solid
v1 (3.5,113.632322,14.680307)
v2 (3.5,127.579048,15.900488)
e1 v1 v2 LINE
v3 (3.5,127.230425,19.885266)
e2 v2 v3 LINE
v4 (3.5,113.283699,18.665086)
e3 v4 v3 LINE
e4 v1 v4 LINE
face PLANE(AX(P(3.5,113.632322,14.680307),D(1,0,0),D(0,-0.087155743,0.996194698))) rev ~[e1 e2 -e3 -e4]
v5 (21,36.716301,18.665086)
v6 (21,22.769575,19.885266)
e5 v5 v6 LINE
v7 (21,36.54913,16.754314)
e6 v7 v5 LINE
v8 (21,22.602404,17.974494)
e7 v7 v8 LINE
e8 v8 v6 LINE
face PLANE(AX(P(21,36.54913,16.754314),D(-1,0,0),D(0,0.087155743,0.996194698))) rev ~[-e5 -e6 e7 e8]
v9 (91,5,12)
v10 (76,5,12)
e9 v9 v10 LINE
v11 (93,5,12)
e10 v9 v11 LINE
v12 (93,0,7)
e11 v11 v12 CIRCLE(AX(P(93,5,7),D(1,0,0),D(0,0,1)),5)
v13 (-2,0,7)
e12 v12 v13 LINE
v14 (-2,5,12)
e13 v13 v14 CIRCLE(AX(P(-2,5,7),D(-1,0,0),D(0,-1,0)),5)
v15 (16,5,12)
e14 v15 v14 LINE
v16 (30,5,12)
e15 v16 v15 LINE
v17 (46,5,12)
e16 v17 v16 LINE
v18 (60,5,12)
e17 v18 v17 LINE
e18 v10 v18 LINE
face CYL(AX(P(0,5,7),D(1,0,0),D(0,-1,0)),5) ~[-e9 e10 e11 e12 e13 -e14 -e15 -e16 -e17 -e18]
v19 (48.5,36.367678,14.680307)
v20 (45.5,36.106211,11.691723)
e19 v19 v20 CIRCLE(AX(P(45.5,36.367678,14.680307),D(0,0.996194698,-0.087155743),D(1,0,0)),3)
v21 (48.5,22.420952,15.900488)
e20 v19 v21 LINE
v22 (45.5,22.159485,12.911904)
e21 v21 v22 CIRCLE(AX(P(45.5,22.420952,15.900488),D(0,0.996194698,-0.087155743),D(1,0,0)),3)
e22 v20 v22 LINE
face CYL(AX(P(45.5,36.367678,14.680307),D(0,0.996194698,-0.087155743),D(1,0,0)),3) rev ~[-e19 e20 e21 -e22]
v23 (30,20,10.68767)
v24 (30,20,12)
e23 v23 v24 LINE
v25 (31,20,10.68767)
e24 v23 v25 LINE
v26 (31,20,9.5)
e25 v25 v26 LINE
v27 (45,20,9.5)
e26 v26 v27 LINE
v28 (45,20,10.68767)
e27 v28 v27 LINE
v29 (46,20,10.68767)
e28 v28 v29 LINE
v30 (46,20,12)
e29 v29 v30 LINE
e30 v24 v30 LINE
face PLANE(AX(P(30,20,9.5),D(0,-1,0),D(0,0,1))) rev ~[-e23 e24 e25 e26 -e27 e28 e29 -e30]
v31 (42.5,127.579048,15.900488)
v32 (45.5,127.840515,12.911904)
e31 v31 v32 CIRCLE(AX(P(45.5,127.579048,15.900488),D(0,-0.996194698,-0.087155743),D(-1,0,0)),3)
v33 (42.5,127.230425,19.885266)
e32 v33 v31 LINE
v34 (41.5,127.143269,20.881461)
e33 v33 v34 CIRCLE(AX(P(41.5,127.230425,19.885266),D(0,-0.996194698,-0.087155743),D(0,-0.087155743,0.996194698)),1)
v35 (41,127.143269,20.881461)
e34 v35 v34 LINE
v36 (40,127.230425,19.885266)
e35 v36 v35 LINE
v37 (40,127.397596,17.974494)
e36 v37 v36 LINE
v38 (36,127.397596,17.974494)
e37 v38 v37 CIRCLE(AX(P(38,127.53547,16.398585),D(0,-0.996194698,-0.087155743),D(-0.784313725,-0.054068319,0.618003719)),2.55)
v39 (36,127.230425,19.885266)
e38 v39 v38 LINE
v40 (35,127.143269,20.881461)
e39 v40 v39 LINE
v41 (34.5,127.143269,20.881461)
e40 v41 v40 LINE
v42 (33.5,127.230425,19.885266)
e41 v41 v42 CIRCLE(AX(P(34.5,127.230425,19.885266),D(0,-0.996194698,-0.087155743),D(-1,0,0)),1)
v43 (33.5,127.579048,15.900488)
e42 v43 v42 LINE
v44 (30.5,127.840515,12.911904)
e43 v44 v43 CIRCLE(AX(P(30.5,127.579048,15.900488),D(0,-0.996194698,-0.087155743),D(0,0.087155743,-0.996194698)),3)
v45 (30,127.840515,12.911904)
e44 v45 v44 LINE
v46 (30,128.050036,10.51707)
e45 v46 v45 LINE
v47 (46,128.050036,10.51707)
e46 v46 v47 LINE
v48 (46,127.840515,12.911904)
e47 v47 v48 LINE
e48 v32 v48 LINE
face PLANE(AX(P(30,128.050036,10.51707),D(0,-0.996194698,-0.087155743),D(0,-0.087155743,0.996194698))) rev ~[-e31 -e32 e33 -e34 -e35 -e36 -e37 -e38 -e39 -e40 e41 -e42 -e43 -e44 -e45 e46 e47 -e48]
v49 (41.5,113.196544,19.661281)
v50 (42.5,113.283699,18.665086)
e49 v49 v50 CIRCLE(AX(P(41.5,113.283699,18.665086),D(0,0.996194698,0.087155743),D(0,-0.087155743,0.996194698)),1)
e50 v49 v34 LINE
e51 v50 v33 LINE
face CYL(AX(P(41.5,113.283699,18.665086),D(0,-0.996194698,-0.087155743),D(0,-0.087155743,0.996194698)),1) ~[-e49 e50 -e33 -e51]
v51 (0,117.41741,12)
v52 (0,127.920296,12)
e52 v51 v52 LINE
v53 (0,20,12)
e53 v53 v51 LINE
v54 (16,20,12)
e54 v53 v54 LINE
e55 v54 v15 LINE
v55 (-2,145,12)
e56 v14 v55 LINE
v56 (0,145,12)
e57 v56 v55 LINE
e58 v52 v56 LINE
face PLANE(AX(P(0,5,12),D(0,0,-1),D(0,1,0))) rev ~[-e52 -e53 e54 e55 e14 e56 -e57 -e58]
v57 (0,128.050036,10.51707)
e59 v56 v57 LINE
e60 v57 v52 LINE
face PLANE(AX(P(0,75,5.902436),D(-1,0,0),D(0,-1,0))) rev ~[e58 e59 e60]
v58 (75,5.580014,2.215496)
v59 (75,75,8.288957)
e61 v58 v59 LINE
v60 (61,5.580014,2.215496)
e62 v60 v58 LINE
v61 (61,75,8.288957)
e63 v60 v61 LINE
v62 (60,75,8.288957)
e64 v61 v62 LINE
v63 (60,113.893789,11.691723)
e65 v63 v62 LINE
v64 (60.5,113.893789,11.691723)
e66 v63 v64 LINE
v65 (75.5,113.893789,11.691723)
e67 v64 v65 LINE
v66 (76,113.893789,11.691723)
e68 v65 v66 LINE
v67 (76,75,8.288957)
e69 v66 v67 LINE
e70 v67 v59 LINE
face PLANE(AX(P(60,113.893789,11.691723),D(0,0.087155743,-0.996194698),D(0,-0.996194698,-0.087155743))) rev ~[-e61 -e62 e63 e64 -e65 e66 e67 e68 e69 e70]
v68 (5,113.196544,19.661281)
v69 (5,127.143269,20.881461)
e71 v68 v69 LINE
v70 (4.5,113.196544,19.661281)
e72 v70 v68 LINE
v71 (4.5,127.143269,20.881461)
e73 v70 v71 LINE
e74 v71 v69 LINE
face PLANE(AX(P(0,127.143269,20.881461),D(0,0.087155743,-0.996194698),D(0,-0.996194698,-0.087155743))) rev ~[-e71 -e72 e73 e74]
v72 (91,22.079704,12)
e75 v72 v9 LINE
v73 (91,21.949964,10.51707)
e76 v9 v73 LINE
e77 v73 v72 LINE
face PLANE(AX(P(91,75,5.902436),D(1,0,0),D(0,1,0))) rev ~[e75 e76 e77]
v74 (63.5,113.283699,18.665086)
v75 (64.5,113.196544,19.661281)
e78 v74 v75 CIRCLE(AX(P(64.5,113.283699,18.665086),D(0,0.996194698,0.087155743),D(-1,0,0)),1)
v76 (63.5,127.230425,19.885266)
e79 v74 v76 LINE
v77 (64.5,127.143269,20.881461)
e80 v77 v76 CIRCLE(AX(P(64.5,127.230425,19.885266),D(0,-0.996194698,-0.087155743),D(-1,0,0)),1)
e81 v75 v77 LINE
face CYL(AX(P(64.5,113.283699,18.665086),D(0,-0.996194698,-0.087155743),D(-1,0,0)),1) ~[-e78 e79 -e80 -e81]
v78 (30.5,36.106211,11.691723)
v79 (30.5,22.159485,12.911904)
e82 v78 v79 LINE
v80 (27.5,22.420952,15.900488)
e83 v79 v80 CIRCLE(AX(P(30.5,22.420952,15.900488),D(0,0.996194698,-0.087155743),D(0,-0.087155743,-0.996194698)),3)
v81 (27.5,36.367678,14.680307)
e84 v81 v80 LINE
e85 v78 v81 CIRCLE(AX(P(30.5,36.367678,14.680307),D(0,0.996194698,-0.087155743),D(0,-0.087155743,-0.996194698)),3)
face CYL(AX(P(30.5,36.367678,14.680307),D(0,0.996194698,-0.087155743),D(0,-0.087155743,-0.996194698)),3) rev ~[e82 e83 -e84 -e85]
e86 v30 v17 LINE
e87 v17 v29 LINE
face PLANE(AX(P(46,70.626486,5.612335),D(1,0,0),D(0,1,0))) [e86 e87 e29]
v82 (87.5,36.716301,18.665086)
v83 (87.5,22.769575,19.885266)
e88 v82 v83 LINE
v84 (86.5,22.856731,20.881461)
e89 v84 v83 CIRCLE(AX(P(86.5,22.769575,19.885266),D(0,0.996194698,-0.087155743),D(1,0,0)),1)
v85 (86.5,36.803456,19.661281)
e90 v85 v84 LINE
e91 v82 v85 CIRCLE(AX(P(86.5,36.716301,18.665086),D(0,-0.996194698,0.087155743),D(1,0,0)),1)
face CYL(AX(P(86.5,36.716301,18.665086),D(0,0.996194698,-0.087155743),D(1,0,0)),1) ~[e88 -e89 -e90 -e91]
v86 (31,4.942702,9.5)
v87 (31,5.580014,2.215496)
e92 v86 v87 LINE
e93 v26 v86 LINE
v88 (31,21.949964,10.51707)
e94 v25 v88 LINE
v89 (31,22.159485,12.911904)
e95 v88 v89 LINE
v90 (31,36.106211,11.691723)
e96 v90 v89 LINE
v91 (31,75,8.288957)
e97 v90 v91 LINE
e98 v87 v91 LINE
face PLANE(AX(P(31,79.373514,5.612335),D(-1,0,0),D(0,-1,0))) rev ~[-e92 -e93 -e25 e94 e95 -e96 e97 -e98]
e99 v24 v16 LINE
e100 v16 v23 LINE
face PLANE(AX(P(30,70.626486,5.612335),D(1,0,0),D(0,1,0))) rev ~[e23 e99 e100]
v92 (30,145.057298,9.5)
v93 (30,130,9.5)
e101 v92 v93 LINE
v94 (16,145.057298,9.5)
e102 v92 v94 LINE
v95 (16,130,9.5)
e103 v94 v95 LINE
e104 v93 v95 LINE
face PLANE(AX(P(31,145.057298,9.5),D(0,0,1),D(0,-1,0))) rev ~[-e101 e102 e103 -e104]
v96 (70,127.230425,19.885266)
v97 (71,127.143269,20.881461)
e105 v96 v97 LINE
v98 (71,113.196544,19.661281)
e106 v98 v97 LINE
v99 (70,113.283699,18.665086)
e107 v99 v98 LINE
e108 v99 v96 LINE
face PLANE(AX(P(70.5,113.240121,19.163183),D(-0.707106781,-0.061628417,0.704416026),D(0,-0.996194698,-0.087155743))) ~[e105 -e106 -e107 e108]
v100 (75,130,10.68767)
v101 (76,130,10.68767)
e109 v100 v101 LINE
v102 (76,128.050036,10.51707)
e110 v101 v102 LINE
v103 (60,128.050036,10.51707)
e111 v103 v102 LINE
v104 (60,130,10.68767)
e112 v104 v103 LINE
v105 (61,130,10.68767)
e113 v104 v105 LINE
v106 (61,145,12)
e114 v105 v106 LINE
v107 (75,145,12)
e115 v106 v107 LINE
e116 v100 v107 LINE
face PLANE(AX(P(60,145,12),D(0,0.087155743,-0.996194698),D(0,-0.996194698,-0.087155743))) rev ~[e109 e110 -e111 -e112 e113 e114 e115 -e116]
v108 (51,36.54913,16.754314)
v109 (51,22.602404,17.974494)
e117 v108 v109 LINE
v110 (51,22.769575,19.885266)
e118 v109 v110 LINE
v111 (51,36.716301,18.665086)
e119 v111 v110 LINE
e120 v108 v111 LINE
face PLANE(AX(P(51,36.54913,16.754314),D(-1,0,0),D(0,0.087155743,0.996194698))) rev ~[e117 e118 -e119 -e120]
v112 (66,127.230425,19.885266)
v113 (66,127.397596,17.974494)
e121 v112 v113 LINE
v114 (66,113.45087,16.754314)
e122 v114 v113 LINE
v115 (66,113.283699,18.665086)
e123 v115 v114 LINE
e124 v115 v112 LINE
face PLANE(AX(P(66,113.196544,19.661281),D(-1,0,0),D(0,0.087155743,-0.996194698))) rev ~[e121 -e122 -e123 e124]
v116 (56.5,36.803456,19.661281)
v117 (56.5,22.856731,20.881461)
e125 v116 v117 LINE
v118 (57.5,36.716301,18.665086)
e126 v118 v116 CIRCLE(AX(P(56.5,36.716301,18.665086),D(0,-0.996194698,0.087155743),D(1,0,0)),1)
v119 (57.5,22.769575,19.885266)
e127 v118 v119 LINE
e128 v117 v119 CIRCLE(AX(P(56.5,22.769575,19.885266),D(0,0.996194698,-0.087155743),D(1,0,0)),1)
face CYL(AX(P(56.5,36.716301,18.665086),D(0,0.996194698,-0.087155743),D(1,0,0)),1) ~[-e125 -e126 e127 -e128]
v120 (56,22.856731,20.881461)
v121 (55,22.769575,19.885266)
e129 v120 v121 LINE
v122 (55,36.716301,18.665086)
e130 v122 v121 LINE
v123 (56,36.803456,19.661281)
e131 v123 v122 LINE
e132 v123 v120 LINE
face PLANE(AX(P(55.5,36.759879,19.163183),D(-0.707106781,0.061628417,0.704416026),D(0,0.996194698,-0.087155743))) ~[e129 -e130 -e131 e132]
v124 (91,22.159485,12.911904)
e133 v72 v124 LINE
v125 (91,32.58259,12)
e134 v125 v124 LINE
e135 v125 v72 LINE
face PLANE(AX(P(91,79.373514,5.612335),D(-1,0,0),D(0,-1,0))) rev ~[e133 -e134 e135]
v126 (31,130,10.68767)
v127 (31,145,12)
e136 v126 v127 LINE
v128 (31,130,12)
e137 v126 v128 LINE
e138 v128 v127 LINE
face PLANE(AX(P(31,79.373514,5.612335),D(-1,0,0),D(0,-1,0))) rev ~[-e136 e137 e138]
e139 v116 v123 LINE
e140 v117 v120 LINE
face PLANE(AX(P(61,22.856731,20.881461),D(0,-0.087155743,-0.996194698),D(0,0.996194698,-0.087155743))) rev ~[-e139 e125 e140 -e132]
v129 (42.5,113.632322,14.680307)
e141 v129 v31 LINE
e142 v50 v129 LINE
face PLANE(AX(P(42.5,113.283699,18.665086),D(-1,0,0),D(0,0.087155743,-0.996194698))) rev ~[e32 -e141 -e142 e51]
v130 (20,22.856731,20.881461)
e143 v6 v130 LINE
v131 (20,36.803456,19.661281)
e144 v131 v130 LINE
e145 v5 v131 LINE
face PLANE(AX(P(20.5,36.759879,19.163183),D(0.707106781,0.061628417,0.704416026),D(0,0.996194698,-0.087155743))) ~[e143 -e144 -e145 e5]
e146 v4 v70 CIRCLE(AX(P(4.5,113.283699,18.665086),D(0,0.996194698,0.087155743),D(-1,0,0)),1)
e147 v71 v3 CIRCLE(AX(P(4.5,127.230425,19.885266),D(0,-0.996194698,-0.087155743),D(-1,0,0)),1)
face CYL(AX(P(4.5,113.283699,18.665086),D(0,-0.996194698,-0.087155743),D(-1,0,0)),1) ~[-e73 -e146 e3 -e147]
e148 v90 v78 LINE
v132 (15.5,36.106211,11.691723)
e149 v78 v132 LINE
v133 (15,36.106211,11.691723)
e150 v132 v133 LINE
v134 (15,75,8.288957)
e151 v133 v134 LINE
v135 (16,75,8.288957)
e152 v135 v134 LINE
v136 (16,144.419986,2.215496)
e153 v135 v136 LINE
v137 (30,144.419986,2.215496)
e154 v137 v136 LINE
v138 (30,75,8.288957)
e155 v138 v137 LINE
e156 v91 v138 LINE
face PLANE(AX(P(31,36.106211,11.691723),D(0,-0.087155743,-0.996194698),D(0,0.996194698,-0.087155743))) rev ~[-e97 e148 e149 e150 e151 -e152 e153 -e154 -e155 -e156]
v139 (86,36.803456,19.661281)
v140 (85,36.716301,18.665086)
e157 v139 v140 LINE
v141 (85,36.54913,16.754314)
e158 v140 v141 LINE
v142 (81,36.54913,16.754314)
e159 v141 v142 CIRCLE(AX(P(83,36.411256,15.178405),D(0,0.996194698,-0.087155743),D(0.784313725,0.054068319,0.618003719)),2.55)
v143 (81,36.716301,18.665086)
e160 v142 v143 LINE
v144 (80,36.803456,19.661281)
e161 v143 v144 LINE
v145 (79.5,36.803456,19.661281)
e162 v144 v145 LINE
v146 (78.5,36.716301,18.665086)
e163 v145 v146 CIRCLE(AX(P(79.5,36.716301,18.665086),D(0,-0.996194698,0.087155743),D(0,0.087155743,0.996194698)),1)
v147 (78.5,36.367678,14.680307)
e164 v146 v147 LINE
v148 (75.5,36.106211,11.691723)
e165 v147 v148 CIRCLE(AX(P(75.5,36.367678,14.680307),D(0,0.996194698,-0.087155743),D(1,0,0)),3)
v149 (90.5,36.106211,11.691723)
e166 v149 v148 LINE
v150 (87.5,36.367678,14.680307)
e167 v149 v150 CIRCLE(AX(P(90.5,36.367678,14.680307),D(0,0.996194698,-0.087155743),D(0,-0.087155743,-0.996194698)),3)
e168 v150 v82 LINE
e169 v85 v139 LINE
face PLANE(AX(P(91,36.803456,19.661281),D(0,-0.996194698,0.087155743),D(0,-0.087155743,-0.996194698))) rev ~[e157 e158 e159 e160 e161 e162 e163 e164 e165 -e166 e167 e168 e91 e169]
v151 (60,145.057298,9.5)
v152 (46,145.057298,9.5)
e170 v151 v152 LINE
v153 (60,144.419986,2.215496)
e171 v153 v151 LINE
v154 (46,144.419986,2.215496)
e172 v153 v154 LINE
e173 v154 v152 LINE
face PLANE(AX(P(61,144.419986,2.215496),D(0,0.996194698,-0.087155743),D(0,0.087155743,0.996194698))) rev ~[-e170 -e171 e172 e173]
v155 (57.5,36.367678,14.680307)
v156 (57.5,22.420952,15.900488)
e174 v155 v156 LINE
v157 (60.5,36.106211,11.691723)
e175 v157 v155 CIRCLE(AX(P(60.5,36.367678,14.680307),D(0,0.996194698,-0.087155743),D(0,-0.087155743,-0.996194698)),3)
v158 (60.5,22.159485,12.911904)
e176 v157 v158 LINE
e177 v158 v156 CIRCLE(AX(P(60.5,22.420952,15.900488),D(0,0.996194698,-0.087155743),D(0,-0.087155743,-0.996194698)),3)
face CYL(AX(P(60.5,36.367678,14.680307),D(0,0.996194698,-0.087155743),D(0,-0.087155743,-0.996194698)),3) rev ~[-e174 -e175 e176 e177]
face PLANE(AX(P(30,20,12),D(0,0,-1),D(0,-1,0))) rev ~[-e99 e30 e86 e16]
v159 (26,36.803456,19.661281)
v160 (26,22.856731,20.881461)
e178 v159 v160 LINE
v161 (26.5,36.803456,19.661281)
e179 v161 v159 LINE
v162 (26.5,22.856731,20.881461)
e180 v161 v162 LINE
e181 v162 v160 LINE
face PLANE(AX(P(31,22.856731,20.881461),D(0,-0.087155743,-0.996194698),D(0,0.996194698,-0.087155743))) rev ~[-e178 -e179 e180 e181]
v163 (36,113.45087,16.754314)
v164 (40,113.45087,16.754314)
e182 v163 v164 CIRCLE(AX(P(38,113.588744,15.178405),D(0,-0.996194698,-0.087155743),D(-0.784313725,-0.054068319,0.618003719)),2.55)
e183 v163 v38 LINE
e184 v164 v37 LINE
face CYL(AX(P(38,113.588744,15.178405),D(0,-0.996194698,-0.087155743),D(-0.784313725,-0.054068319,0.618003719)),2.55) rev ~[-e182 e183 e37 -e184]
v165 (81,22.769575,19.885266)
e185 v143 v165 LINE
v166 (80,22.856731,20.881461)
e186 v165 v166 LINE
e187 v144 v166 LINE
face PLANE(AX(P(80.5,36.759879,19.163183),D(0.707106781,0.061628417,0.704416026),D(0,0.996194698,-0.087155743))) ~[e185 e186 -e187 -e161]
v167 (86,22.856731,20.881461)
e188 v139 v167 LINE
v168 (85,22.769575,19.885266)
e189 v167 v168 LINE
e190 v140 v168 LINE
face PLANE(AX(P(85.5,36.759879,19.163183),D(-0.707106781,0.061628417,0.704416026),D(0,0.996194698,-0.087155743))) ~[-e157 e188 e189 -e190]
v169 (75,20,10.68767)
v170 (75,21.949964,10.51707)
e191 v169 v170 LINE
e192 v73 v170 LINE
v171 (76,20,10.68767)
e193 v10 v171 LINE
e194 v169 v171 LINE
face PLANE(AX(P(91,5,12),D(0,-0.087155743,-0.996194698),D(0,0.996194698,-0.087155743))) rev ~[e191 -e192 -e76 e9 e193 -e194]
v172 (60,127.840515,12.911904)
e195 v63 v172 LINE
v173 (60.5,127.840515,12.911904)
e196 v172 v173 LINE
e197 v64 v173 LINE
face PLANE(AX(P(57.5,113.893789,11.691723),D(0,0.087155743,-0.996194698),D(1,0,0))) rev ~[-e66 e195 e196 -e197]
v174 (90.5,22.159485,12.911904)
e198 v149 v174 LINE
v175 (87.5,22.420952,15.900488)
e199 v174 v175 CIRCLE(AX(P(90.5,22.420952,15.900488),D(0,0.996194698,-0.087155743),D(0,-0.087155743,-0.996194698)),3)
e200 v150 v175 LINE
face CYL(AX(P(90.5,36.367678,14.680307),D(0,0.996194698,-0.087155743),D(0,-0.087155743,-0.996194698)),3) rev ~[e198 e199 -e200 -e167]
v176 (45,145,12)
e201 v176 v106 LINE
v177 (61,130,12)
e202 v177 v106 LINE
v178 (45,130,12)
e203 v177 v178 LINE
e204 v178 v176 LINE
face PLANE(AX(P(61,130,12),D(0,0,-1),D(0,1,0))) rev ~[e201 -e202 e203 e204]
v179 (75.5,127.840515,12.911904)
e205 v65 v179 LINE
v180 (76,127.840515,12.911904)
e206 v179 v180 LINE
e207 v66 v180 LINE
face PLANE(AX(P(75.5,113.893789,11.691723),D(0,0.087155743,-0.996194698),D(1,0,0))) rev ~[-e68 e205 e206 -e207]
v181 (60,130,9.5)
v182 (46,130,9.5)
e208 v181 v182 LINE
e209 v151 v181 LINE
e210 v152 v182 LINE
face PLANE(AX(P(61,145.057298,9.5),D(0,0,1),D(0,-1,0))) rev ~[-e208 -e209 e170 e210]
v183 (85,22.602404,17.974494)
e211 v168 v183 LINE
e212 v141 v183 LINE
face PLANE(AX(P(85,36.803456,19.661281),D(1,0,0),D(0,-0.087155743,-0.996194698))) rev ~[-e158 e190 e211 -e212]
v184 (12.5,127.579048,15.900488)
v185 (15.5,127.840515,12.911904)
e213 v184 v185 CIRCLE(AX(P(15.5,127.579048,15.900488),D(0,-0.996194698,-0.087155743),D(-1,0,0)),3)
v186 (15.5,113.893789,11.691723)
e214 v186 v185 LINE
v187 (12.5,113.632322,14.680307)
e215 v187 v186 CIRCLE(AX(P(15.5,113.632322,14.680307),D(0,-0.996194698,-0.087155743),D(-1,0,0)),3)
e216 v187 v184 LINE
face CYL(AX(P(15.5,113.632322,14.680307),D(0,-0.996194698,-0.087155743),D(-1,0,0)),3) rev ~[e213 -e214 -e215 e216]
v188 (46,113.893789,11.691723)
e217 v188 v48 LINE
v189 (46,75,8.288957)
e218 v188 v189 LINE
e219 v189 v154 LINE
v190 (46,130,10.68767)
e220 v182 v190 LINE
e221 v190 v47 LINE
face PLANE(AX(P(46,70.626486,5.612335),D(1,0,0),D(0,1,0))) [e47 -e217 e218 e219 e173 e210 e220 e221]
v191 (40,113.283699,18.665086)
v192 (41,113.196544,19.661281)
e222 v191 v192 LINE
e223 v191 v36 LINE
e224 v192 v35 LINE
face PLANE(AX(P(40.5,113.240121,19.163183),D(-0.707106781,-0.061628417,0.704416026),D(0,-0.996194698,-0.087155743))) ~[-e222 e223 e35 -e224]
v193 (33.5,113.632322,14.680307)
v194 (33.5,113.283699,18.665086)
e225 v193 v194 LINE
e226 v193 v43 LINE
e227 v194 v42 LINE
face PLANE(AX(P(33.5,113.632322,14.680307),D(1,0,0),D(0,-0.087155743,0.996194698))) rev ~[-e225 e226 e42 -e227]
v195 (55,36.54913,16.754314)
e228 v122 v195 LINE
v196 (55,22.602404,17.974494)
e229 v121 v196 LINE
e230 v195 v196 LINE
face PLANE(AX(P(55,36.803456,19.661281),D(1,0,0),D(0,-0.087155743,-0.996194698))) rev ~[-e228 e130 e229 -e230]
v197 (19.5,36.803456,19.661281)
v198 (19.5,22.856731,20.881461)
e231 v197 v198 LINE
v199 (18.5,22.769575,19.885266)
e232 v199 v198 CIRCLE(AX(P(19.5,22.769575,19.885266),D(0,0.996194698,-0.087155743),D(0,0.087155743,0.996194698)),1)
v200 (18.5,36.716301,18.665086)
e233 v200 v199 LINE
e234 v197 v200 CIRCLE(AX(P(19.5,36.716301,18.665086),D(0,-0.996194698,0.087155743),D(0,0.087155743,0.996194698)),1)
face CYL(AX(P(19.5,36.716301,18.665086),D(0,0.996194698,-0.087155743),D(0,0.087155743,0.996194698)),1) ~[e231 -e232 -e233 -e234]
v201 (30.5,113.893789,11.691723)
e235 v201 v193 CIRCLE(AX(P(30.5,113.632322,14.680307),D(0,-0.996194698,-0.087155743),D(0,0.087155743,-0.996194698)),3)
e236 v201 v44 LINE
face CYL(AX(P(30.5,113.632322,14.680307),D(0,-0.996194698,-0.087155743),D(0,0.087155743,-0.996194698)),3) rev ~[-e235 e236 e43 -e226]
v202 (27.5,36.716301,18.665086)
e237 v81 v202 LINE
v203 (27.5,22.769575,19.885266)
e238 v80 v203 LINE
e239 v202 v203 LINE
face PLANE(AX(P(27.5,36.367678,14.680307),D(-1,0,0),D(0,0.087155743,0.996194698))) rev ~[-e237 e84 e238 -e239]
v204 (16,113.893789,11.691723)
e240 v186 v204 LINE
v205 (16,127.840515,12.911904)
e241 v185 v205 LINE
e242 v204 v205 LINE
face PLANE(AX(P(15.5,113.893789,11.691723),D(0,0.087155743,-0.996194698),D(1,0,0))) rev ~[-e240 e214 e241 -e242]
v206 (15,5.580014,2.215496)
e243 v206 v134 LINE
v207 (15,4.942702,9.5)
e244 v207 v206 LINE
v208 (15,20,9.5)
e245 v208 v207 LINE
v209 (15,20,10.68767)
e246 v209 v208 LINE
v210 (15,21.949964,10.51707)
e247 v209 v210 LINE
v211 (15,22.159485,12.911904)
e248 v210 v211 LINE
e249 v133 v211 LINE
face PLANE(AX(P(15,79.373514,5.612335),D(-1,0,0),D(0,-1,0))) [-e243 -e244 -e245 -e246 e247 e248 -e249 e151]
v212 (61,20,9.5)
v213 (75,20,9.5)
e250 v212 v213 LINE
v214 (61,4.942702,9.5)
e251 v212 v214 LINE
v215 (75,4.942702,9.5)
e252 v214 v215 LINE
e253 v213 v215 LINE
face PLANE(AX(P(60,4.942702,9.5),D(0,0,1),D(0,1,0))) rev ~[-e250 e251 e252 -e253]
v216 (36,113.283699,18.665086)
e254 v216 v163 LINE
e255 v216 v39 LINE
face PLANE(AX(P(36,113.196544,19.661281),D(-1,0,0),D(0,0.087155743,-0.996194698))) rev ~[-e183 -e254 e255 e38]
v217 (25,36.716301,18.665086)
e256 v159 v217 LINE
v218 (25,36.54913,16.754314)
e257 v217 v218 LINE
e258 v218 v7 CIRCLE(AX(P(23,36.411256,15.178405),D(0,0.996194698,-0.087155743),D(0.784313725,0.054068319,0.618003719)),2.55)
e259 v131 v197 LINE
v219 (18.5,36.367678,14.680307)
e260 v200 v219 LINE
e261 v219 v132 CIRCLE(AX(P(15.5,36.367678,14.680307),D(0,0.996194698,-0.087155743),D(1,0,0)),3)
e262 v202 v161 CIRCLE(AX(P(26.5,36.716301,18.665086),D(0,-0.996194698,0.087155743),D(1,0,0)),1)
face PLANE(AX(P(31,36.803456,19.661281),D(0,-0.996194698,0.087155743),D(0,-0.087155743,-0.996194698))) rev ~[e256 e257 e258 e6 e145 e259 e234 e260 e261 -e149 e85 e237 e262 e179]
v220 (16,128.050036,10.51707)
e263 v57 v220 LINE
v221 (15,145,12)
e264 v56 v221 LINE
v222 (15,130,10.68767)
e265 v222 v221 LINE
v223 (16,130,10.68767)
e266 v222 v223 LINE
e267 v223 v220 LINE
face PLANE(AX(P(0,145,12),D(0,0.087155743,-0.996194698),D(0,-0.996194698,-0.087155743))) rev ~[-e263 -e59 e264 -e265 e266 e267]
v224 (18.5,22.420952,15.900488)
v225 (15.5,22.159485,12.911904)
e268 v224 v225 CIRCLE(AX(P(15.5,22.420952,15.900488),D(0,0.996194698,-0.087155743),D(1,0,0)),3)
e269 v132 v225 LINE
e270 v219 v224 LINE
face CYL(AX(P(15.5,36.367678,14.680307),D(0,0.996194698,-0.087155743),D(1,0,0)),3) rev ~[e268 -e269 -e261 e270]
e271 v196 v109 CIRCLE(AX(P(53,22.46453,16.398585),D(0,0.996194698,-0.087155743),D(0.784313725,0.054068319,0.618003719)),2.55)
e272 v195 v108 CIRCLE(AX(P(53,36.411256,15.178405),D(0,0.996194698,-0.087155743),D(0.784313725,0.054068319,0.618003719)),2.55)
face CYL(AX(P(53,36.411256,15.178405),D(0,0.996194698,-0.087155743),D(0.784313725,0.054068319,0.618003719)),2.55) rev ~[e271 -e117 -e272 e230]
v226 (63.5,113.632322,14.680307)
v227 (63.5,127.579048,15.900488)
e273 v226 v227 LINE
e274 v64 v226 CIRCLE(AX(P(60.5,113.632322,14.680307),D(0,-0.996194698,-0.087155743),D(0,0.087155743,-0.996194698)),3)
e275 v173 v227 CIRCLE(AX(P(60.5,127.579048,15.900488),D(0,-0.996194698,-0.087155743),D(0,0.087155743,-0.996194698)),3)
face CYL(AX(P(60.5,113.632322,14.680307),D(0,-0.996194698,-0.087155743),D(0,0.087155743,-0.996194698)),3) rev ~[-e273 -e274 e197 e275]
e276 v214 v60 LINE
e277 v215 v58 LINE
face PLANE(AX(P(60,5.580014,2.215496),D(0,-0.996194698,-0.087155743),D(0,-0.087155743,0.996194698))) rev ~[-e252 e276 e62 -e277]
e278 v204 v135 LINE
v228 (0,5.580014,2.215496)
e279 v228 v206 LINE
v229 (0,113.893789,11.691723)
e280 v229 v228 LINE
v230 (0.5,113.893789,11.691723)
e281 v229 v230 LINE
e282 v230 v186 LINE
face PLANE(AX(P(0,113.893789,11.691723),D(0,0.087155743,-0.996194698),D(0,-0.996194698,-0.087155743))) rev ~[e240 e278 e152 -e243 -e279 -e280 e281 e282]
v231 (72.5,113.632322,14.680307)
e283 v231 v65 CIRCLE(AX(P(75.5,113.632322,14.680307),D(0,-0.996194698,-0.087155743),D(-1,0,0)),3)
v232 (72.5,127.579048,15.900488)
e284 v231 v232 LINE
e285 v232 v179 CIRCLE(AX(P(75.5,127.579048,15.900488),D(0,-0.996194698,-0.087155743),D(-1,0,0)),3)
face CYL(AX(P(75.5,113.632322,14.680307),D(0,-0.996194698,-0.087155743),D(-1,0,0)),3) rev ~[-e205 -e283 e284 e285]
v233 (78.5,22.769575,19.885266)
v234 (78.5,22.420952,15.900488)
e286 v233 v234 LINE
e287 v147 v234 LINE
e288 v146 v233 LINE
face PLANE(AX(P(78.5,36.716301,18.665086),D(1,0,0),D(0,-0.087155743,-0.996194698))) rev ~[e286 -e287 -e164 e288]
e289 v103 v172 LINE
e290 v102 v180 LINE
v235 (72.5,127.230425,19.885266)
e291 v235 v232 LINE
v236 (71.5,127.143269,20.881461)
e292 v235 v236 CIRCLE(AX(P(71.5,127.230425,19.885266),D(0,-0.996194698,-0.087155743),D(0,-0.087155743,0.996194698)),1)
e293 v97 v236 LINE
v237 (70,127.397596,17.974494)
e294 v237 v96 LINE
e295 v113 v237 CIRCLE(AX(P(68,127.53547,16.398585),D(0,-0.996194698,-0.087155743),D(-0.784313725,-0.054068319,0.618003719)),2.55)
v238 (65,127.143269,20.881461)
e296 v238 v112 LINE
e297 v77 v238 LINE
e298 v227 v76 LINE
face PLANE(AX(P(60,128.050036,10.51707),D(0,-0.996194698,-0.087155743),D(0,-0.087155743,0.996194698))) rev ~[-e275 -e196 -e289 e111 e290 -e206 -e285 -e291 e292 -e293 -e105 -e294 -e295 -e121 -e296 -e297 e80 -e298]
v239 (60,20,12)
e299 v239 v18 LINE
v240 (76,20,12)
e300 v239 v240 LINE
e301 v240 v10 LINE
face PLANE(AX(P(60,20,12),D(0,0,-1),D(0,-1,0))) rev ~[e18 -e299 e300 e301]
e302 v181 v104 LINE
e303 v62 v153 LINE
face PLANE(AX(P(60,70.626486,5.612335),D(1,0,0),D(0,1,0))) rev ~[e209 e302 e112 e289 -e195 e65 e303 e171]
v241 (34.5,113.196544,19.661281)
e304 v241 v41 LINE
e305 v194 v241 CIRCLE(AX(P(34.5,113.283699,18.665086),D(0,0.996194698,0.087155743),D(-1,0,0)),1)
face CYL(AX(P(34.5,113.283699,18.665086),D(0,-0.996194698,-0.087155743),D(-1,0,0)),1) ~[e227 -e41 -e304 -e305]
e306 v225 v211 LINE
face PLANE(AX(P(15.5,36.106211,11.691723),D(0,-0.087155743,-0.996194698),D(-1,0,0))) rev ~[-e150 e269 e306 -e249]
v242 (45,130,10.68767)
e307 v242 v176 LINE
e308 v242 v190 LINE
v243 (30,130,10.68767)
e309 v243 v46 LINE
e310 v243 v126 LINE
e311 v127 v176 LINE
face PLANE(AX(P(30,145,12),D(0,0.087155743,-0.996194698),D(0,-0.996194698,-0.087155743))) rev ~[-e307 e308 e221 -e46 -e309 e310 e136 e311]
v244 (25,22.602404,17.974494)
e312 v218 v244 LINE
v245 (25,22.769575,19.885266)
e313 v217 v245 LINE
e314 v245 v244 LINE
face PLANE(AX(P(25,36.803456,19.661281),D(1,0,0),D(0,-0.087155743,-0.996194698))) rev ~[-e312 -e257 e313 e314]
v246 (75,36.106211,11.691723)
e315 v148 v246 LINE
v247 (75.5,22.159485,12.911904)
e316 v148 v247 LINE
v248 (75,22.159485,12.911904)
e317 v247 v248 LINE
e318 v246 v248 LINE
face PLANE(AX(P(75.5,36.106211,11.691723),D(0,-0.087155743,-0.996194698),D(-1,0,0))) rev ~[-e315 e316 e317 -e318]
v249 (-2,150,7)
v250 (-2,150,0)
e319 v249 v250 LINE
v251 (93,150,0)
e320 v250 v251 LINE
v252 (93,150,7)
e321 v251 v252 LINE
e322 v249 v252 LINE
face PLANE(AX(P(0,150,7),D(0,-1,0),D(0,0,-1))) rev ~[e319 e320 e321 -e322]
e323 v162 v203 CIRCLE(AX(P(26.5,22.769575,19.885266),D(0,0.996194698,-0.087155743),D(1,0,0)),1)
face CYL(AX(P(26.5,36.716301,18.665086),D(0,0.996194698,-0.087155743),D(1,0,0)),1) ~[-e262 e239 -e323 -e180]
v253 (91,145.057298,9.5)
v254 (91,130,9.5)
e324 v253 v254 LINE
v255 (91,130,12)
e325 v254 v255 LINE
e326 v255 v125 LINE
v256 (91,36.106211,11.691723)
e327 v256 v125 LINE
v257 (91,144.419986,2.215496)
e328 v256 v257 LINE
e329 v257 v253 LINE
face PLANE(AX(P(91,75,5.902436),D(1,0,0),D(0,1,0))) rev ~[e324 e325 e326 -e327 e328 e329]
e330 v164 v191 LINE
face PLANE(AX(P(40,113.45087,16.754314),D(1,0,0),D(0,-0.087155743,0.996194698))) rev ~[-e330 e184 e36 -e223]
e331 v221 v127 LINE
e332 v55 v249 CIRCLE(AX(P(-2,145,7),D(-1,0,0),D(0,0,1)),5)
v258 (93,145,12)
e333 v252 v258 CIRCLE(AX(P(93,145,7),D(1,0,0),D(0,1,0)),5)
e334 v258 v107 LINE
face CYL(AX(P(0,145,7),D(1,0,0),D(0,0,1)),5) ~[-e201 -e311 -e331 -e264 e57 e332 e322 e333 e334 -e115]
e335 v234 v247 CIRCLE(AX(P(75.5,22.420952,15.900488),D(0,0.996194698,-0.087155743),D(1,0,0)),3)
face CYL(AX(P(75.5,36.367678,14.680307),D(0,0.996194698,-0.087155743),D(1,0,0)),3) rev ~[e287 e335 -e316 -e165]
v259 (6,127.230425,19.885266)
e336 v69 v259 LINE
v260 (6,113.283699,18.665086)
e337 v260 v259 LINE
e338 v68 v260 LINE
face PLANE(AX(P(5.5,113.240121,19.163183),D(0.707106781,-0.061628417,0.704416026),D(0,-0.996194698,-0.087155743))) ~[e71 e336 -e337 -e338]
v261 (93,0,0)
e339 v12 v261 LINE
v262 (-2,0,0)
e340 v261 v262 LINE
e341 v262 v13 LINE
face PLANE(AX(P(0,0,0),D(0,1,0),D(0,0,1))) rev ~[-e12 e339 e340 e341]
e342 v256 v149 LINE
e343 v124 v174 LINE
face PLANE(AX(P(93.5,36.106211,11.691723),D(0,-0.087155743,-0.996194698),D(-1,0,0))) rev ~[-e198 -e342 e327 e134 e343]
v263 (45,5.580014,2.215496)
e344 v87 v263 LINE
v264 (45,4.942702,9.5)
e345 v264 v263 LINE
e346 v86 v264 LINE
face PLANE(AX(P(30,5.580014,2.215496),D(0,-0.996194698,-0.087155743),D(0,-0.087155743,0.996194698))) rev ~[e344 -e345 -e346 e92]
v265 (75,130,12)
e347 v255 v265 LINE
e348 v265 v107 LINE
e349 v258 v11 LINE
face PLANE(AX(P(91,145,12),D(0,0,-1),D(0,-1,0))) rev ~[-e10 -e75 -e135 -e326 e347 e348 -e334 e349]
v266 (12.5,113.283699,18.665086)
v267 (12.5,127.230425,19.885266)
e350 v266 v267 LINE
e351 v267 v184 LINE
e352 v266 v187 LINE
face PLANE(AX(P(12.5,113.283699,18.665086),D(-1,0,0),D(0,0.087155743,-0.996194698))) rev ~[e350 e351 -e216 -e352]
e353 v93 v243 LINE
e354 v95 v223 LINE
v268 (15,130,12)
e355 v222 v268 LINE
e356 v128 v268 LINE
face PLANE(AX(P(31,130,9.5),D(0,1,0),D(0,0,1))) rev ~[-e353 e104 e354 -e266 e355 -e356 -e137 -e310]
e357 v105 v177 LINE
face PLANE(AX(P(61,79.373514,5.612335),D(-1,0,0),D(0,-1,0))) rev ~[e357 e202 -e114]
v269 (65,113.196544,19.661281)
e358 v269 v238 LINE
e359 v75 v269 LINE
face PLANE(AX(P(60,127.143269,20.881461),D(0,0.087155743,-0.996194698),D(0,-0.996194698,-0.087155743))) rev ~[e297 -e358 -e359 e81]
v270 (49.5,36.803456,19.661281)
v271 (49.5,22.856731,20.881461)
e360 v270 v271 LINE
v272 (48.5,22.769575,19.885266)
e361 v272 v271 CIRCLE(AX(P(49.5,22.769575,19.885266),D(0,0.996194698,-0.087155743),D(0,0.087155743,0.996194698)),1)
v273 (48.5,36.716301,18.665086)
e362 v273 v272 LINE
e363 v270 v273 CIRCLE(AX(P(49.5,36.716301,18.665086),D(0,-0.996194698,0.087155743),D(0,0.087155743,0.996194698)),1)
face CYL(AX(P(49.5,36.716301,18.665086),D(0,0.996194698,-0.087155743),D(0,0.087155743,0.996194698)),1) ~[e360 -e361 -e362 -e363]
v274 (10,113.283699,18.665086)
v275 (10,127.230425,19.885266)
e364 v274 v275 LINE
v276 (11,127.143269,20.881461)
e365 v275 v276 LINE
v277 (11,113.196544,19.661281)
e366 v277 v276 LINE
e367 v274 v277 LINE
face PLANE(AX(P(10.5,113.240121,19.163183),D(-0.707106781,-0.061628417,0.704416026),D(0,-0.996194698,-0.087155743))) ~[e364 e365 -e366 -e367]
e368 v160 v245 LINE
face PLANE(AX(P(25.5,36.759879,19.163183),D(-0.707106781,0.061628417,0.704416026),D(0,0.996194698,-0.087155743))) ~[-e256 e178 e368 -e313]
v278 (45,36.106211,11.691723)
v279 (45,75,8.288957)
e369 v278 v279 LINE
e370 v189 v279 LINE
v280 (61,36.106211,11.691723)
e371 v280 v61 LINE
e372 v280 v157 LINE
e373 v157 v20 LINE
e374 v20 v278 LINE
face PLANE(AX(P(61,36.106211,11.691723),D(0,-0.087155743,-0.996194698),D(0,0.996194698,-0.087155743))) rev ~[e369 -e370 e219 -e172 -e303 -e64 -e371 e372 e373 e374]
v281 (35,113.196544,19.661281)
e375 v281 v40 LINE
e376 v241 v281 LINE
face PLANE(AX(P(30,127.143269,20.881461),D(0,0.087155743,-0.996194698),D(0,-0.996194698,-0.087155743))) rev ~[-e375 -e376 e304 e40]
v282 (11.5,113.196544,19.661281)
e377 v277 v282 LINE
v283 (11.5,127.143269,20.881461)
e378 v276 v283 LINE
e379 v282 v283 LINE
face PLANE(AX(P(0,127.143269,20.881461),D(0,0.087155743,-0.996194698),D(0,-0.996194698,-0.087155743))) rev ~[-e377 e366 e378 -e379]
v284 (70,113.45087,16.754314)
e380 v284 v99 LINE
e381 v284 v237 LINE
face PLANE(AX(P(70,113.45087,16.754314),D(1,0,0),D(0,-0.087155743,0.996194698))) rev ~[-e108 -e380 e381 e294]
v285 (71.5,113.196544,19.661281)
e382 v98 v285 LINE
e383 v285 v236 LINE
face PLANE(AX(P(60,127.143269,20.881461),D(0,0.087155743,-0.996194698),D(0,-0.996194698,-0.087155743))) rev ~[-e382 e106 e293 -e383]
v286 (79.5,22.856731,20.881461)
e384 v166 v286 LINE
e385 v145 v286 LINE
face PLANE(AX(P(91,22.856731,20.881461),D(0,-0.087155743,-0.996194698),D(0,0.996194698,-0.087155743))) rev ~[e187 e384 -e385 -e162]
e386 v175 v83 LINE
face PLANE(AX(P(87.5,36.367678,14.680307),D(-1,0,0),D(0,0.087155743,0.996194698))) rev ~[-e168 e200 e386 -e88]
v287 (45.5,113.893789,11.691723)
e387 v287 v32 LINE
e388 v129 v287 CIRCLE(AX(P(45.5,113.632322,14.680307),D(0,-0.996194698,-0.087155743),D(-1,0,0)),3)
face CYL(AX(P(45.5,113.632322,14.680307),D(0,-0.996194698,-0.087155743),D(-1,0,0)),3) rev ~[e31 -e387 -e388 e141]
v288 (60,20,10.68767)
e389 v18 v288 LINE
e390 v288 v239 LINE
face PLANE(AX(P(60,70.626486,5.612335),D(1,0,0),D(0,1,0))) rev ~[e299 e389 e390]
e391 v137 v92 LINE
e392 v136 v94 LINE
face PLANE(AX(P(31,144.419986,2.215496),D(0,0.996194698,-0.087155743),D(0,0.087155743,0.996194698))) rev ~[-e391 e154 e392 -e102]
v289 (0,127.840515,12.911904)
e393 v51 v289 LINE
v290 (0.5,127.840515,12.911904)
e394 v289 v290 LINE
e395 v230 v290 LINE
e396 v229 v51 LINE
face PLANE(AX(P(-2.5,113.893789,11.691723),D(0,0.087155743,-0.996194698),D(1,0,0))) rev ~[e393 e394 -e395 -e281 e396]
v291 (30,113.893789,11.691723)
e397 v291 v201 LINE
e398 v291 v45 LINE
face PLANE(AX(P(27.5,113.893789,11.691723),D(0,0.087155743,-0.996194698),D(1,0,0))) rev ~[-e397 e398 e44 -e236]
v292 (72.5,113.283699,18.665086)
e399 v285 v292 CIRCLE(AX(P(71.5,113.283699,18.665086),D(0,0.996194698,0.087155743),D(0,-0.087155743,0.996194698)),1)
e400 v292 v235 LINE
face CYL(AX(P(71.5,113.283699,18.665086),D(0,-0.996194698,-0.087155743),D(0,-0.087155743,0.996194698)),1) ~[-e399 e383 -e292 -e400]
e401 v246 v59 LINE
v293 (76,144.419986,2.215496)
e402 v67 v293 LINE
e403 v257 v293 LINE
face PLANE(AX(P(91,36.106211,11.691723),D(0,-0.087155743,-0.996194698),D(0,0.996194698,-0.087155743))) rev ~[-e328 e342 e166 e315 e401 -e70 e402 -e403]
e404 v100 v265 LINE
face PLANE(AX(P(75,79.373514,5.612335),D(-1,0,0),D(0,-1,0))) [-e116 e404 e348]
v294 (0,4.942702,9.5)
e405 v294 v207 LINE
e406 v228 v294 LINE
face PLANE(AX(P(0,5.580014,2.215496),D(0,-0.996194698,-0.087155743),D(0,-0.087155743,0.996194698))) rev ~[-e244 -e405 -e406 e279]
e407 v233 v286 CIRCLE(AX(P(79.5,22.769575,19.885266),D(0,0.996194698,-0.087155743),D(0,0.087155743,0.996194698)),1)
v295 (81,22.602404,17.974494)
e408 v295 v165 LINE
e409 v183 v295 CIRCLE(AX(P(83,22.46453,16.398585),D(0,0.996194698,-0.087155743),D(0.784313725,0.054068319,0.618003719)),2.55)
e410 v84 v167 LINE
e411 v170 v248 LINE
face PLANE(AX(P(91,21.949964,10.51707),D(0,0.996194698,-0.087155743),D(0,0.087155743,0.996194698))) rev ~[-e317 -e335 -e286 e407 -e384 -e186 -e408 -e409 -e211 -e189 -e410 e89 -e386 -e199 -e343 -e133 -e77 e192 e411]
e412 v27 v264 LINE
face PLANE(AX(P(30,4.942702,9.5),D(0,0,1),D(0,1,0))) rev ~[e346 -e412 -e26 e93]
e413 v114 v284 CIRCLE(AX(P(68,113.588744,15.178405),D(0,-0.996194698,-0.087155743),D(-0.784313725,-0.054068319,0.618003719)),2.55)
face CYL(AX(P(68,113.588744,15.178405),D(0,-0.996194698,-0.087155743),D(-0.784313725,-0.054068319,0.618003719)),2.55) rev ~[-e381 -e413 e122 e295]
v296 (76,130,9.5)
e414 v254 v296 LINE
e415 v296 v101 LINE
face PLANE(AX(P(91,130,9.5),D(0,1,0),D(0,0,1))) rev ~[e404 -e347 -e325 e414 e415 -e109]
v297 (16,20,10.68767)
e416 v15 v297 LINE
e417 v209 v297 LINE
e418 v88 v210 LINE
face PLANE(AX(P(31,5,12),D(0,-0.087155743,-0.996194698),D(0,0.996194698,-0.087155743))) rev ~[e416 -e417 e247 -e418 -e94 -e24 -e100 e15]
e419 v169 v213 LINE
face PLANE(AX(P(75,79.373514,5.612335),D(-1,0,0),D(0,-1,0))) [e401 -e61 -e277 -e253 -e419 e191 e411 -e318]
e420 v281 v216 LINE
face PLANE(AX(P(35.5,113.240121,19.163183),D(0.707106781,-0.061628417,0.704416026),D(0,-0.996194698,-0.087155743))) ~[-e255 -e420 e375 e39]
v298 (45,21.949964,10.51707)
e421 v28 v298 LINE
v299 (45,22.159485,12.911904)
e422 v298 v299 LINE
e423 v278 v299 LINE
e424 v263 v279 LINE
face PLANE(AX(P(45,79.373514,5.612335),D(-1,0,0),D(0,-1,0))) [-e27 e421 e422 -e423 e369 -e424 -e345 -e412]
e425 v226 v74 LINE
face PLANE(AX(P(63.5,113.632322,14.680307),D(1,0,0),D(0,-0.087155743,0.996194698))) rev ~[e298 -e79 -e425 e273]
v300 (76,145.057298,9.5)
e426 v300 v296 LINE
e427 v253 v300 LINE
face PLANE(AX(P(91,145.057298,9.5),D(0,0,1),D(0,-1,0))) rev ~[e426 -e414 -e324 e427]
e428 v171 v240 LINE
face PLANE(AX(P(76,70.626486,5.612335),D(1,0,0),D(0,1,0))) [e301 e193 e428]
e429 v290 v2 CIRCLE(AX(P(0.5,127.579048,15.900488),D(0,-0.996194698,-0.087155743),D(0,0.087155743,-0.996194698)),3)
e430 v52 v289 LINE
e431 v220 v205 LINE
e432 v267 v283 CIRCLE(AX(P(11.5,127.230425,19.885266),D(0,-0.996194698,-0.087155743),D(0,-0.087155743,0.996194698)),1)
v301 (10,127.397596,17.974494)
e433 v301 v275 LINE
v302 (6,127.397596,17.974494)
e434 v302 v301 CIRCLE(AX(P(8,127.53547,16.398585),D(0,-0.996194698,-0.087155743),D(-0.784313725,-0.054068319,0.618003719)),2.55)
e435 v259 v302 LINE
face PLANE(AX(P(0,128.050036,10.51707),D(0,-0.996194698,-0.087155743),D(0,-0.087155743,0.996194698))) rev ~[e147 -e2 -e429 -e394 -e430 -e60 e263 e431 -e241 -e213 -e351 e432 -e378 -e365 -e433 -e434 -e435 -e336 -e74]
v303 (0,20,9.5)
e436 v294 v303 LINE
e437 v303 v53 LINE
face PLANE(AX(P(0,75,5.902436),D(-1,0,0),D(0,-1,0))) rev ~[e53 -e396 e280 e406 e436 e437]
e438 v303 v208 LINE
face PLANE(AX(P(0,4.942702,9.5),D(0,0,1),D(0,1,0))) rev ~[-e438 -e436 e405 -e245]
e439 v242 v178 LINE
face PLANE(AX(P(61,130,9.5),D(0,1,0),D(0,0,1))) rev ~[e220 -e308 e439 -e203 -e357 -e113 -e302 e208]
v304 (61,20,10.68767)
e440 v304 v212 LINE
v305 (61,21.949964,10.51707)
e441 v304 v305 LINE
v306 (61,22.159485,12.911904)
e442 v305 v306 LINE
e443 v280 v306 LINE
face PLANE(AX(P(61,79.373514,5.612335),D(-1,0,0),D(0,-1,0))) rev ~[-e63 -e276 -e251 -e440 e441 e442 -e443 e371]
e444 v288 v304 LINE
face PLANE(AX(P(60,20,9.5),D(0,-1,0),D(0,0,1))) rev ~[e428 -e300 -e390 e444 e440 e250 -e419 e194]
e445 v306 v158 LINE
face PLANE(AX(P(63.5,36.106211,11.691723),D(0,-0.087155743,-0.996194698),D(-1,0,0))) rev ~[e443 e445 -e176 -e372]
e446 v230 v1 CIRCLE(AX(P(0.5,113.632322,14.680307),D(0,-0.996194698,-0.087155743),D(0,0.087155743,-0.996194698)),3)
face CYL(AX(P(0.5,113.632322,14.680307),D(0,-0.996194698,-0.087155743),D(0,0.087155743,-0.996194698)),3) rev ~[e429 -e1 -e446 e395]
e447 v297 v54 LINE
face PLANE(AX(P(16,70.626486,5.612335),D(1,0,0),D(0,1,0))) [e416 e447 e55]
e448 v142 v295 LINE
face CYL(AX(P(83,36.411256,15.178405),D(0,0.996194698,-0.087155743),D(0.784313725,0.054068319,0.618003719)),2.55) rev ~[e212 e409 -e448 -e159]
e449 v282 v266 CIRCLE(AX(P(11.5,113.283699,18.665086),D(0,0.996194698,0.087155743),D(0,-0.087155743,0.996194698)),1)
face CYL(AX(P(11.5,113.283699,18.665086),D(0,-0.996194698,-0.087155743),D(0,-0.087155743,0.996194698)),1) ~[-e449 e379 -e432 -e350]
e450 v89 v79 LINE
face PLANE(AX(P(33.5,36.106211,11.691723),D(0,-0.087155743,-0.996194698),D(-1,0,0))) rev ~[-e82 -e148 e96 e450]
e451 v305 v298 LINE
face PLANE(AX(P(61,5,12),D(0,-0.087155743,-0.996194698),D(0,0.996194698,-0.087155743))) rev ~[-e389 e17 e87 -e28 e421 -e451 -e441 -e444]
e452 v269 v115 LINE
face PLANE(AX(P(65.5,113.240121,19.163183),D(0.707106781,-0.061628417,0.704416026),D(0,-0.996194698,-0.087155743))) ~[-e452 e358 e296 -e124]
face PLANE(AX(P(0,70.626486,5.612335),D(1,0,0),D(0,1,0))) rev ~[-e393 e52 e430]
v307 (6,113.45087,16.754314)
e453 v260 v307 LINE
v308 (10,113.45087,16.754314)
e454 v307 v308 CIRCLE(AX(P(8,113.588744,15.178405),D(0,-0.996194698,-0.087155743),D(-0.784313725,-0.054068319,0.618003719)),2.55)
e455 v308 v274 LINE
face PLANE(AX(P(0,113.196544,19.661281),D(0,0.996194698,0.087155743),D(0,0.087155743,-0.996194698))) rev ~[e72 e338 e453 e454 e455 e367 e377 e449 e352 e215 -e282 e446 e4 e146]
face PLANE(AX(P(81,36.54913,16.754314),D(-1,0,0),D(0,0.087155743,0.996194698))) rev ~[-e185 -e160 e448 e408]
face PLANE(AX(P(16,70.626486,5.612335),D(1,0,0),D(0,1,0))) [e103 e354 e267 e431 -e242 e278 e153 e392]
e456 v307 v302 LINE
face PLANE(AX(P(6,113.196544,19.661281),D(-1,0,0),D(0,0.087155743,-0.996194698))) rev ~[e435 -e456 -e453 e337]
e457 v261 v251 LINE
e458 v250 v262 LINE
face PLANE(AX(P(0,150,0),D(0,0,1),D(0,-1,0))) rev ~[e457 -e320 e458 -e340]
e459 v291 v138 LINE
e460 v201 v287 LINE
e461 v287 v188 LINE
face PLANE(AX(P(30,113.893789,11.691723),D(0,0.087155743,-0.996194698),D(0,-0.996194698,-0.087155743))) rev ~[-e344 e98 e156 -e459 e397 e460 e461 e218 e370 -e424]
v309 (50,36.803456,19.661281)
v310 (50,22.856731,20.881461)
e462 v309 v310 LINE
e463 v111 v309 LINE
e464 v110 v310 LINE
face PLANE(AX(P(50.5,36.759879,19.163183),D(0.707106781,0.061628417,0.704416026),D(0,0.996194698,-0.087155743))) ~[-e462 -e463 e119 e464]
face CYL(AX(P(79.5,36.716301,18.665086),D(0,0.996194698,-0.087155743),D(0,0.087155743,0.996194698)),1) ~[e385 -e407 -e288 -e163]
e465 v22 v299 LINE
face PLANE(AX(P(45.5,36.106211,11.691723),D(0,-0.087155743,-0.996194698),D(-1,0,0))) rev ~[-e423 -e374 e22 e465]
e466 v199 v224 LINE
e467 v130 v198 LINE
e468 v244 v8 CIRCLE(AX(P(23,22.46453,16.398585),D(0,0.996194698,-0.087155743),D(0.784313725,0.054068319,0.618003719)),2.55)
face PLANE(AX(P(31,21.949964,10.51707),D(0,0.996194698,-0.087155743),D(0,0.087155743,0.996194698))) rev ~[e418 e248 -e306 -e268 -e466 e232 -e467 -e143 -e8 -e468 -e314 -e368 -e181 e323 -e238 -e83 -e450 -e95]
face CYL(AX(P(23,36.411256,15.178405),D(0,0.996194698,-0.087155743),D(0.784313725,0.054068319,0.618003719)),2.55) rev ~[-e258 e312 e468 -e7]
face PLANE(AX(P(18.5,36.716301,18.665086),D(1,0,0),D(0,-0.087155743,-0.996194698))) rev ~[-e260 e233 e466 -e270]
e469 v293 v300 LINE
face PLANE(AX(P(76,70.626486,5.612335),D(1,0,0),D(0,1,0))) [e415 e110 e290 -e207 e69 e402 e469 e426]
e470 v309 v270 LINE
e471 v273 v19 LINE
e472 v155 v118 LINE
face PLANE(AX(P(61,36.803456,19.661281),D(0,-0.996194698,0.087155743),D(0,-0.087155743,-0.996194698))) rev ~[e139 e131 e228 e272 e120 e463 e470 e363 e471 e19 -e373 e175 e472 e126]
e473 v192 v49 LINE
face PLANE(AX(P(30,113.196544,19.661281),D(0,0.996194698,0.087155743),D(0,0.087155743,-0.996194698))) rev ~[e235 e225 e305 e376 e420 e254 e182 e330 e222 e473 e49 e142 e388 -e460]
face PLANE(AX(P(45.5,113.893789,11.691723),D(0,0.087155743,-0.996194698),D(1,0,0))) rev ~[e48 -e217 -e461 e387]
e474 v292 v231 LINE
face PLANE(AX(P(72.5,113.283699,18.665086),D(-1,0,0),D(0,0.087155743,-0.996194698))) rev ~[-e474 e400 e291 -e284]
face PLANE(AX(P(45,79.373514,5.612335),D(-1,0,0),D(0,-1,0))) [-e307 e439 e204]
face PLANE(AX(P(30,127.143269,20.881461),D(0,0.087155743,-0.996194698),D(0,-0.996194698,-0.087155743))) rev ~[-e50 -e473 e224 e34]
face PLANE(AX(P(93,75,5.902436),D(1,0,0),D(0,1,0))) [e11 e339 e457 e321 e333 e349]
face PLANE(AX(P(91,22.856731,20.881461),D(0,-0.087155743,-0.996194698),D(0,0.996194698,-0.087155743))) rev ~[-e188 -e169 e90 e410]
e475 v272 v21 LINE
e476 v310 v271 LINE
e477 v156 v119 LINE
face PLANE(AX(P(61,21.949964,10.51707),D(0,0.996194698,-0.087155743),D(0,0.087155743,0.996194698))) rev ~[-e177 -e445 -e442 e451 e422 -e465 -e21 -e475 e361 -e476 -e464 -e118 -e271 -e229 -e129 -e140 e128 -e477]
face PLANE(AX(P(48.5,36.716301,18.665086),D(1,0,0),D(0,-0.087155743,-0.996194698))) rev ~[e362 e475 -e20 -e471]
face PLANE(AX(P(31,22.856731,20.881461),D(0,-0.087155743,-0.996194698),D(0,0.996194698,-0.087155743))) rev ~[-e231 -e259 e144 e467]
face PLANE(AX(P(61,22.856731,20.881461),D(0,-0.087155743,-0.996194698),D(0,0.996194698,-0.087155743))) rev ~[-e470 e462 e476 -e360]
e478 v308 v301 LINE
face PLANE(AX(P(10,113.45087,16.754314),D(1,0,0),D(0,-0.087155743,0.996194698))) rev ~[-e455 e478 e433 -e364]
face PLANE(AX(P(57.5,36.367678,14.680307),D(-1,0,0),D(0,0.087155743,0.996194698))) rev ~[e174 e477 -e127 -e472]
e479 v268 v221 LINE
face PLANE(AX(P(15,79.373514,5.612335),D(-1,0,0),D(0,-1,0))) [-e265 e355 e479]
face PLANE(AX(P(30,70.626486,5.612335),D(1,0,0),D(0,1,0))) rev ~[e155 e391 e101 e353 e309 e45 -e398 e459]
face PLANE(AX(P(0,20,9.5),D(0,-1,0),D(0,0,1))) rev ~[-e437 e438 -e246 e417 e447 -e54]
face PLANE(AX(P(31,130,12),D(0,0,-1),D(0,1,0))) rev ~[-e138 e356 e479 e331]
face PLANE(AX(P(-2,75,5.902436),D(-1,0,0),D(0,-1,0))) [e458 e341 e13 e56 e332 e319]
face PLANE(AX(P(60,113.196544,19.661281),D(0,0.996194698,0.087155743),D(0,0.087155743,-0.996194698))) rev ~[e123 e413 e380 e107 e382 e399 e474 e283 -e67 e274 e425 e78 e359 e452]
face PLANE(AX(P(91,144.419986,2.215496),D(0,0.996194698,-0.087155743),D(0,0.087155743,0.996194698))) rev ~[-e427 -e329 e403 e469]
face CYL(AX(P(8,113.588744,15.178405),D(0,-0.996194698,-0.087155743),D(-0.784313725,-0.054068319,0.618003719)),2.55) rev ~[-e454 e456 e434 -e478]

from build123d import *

# Parameters (mm, degrees)
F1_DEPTH  = 16
F3_DEPTH  = 25
F4_SIZE   = 1
F11_ANGLE = 180
F14_DEPTH = 2
F16_DEPTH = 2


with BuildPart() as f1:
    # F0 (on Right) → F1 (new body)
    with BuildSketch(Plane.YZ):
        with BuildLine():
            Line((0, 7), (0, 0))
            Line((0, 0), (150, 0))
            Line((150, 0), (150, 7))
            ThreePointArc((150, 7), (148.5355339059, 10.5355339059), (145, 12))
            Line((145, 12), (128.050036002, 10.517070303))
            Line((128.050036002, 10.517070303), (127.1432693018, 20.8814611121))
            Line((127.1432693018, 20.8814611121), (113.1965435286, 19.6612807136))
            Line((113.1965435286, 19.6612807136), (113.8937894705, 11.6917231289))
            Line((113.8937894705, 11.6917231289), (5.5800139851, 2.2154956702))
            Line((5.5800139851, 2.2154956702), (4.9427024368, 9.5))
            Line((4.9427024368, 9.5), (20, 9.5))
            Line((20, 9.5), (20, 12))
            Line((20, 12), (5, 12))
            ThreePointArc((5, 12), (1.4644660941, 10.5355339059), (0, 7))
        make_face()
    extrude(amount=F1_DEPTH)

    # F2 (on face) → F3 (cut)
    with BuildSketch(Plane(origin=(0, 114.0437613881, 9.9775362673), x_dir=(1, 0, 0), z_dir=(0, -0.9961946981, -0.0871557427))):
        with BuildLine():
            Line((6, 9.7207347769), (6, 6.8026639789))
            ThreePointArc((6, 6.8026639789), (8, 2.6707347769), (10, 6.8026639789))
            Line((10, 6.8026639789), (10, 9.7207347769))
            Line((10, 9.7207347769), (11.5, 9.7207347769))
            ThreePointArc((11.5, 9.7207347769), (12.2071067812, 9.4278415581), (12.5, 8.7207347769))
            Line((12.5, 8.7207347769), (12.5, 4.7207347769))
            ThreePointArc((12.5, 4.7207347769), (13.3786796564, 2.5994144334), (15.5, 1.7207347769))
            Line((15.5, 1.7207347769), (18.5, 1.7207347769))
            Line((18.5, 1.7207347769), (18.5, 10.7207347769))
            Line((18.5, 10.7207347769), (-2.5, 10.7207347769))
            Line((-2.5, 10.7207347769), (-2.5, 1.7207347769))
            Line((-2.5, 1.7207347769), (0.5, 1.7207347769))
            ThreePointArc((0.5, 1.7207347769), (2.6213203436, 2.5994144334), (3.5, 4.7207347769))
            Line((3.5, 4.7207347769), (3.5, 8.7207347769))
            ThreePointArc((3.5, 8.7207347769), (3.7928932188, 9.4278415581), (4.5, 9.7207347769))
            Line((4.5, 9.7207347769), (6, 9.7207347769))
        make_face()
    extrude(amount=-F3_DEPTH, mode=Mode.SUBTRACT)

    # F4
    f4_edges = [f1.edges().sort_by_distance(p)[0] for p in [
        (6, 120.169906, 20.271371),
        (10, 120.169906, 20.271371),
    ]]
    chamfer(f4_edges, length=F4_SIZE)


with BuildPart() as f5_1:
    # F5: copy of F1
    add(f1.part.moved(Location((30, 0, 0))))


with BuildPart() as f6_1:
    # F6: copy of F5_1
    add(f5_1.part.moved(Location((30, 0, 0))))


with BuildPart() as f7_1:
    # F7: copy of F1
    add(f1.part.moved(Location((0, 160, 0))))


with BuildPart() as f8_1:
    # F8: copy of F5_1
    add(f5_1.part.moved(Location((0, 160, 0))))


with BuildPart() as f9_1:
    # F9: copy of F6_1
    add(f6_1.part.moved(Location((0, 160, 0))))


with BuildPart() as f8_1_1:
    # F11: moved
    add(f8_1.part.rotate(Axis((0, 0, 25), (0, 0, 1)), F11_ANGLE))


with BuildPart() as f9_1_1:
    # F11: moved
    add(f9_1.part.rotate(Axis((0, 0, 25), (0, 0, 1)), F11_ANGLE))


with BuildPart() as f7_1_1:
    # F11: moved
    add(f7_1.part.rotate(Axis((0, 0, 25), (0, 0, 1)), F11_ANGLE))


with BuildPart() as f7_1_2:
    # F12: moved
    add(f7_1_1.part.moved(Location((91, 310, 0))))

    # F13 (on face) → F14 (join)
    with BuildSketch(Plane.YZ.offset(91)):
        with BuildLine():
            Line((0, 7), (0, 0))
            Line((0, 0), (150, 0))
            Line((150, 0), (150, 7))
            ThreePointArc((150, 7), (148.5355339059, 10.5355339059), (145, 12))
            Line((145, 12), (5, 12))
            ThreePointArc((5, 12), (1.4644660941, 10.5355339059), (0, 7))
        make_face()
    extrude(amount=F14_DEPTH)


with BuildPart() as f8_1_2:
    # F12: moved
    add(f8_1_1.part.moved(Location((91, 310, 0))))


with BuildPart() as f9_1_2:
    # F12: moved
    add(f9_1_1.part.moved(Location((91, 310, 0))))


with BuildPart() as f1_1:
    add(f1.part)

    add(f5_1.part)  # F16 merges F5_1

    add(f6_1.part)  # F16 merges F6_1

    add(f7_1_2.part)  # F16 merges F7_1

    add(f8_1_2.part)  # F16 merges F8_1

    add(f9_1_2.part)  # F16 merges F9_1
    # F15 (on face) → F16 (join)
    with BuildSketch(Plane(origin=(0, 0, 0), x_dir=(0, -1, 0), z_dir=(-1, 0, 0))):
        with BuildLine():
            Line((-150, 0), (0, 0))
            Line((0, 0), (0, 7))
            ThreePointArc((0, 7), (-1.4644660941, 10.5355339059), (-5, 12))
            Line((-5, 12), (-145, 12))
            ThreePointArc((-145, 12), (-148.5355339059, 10.5355339059), (-150, 7))
            Line((-150, 7), (-150, 0))
        make_face()
    extrude(amount=F16_DEPTH)


solid = f1_1.part
